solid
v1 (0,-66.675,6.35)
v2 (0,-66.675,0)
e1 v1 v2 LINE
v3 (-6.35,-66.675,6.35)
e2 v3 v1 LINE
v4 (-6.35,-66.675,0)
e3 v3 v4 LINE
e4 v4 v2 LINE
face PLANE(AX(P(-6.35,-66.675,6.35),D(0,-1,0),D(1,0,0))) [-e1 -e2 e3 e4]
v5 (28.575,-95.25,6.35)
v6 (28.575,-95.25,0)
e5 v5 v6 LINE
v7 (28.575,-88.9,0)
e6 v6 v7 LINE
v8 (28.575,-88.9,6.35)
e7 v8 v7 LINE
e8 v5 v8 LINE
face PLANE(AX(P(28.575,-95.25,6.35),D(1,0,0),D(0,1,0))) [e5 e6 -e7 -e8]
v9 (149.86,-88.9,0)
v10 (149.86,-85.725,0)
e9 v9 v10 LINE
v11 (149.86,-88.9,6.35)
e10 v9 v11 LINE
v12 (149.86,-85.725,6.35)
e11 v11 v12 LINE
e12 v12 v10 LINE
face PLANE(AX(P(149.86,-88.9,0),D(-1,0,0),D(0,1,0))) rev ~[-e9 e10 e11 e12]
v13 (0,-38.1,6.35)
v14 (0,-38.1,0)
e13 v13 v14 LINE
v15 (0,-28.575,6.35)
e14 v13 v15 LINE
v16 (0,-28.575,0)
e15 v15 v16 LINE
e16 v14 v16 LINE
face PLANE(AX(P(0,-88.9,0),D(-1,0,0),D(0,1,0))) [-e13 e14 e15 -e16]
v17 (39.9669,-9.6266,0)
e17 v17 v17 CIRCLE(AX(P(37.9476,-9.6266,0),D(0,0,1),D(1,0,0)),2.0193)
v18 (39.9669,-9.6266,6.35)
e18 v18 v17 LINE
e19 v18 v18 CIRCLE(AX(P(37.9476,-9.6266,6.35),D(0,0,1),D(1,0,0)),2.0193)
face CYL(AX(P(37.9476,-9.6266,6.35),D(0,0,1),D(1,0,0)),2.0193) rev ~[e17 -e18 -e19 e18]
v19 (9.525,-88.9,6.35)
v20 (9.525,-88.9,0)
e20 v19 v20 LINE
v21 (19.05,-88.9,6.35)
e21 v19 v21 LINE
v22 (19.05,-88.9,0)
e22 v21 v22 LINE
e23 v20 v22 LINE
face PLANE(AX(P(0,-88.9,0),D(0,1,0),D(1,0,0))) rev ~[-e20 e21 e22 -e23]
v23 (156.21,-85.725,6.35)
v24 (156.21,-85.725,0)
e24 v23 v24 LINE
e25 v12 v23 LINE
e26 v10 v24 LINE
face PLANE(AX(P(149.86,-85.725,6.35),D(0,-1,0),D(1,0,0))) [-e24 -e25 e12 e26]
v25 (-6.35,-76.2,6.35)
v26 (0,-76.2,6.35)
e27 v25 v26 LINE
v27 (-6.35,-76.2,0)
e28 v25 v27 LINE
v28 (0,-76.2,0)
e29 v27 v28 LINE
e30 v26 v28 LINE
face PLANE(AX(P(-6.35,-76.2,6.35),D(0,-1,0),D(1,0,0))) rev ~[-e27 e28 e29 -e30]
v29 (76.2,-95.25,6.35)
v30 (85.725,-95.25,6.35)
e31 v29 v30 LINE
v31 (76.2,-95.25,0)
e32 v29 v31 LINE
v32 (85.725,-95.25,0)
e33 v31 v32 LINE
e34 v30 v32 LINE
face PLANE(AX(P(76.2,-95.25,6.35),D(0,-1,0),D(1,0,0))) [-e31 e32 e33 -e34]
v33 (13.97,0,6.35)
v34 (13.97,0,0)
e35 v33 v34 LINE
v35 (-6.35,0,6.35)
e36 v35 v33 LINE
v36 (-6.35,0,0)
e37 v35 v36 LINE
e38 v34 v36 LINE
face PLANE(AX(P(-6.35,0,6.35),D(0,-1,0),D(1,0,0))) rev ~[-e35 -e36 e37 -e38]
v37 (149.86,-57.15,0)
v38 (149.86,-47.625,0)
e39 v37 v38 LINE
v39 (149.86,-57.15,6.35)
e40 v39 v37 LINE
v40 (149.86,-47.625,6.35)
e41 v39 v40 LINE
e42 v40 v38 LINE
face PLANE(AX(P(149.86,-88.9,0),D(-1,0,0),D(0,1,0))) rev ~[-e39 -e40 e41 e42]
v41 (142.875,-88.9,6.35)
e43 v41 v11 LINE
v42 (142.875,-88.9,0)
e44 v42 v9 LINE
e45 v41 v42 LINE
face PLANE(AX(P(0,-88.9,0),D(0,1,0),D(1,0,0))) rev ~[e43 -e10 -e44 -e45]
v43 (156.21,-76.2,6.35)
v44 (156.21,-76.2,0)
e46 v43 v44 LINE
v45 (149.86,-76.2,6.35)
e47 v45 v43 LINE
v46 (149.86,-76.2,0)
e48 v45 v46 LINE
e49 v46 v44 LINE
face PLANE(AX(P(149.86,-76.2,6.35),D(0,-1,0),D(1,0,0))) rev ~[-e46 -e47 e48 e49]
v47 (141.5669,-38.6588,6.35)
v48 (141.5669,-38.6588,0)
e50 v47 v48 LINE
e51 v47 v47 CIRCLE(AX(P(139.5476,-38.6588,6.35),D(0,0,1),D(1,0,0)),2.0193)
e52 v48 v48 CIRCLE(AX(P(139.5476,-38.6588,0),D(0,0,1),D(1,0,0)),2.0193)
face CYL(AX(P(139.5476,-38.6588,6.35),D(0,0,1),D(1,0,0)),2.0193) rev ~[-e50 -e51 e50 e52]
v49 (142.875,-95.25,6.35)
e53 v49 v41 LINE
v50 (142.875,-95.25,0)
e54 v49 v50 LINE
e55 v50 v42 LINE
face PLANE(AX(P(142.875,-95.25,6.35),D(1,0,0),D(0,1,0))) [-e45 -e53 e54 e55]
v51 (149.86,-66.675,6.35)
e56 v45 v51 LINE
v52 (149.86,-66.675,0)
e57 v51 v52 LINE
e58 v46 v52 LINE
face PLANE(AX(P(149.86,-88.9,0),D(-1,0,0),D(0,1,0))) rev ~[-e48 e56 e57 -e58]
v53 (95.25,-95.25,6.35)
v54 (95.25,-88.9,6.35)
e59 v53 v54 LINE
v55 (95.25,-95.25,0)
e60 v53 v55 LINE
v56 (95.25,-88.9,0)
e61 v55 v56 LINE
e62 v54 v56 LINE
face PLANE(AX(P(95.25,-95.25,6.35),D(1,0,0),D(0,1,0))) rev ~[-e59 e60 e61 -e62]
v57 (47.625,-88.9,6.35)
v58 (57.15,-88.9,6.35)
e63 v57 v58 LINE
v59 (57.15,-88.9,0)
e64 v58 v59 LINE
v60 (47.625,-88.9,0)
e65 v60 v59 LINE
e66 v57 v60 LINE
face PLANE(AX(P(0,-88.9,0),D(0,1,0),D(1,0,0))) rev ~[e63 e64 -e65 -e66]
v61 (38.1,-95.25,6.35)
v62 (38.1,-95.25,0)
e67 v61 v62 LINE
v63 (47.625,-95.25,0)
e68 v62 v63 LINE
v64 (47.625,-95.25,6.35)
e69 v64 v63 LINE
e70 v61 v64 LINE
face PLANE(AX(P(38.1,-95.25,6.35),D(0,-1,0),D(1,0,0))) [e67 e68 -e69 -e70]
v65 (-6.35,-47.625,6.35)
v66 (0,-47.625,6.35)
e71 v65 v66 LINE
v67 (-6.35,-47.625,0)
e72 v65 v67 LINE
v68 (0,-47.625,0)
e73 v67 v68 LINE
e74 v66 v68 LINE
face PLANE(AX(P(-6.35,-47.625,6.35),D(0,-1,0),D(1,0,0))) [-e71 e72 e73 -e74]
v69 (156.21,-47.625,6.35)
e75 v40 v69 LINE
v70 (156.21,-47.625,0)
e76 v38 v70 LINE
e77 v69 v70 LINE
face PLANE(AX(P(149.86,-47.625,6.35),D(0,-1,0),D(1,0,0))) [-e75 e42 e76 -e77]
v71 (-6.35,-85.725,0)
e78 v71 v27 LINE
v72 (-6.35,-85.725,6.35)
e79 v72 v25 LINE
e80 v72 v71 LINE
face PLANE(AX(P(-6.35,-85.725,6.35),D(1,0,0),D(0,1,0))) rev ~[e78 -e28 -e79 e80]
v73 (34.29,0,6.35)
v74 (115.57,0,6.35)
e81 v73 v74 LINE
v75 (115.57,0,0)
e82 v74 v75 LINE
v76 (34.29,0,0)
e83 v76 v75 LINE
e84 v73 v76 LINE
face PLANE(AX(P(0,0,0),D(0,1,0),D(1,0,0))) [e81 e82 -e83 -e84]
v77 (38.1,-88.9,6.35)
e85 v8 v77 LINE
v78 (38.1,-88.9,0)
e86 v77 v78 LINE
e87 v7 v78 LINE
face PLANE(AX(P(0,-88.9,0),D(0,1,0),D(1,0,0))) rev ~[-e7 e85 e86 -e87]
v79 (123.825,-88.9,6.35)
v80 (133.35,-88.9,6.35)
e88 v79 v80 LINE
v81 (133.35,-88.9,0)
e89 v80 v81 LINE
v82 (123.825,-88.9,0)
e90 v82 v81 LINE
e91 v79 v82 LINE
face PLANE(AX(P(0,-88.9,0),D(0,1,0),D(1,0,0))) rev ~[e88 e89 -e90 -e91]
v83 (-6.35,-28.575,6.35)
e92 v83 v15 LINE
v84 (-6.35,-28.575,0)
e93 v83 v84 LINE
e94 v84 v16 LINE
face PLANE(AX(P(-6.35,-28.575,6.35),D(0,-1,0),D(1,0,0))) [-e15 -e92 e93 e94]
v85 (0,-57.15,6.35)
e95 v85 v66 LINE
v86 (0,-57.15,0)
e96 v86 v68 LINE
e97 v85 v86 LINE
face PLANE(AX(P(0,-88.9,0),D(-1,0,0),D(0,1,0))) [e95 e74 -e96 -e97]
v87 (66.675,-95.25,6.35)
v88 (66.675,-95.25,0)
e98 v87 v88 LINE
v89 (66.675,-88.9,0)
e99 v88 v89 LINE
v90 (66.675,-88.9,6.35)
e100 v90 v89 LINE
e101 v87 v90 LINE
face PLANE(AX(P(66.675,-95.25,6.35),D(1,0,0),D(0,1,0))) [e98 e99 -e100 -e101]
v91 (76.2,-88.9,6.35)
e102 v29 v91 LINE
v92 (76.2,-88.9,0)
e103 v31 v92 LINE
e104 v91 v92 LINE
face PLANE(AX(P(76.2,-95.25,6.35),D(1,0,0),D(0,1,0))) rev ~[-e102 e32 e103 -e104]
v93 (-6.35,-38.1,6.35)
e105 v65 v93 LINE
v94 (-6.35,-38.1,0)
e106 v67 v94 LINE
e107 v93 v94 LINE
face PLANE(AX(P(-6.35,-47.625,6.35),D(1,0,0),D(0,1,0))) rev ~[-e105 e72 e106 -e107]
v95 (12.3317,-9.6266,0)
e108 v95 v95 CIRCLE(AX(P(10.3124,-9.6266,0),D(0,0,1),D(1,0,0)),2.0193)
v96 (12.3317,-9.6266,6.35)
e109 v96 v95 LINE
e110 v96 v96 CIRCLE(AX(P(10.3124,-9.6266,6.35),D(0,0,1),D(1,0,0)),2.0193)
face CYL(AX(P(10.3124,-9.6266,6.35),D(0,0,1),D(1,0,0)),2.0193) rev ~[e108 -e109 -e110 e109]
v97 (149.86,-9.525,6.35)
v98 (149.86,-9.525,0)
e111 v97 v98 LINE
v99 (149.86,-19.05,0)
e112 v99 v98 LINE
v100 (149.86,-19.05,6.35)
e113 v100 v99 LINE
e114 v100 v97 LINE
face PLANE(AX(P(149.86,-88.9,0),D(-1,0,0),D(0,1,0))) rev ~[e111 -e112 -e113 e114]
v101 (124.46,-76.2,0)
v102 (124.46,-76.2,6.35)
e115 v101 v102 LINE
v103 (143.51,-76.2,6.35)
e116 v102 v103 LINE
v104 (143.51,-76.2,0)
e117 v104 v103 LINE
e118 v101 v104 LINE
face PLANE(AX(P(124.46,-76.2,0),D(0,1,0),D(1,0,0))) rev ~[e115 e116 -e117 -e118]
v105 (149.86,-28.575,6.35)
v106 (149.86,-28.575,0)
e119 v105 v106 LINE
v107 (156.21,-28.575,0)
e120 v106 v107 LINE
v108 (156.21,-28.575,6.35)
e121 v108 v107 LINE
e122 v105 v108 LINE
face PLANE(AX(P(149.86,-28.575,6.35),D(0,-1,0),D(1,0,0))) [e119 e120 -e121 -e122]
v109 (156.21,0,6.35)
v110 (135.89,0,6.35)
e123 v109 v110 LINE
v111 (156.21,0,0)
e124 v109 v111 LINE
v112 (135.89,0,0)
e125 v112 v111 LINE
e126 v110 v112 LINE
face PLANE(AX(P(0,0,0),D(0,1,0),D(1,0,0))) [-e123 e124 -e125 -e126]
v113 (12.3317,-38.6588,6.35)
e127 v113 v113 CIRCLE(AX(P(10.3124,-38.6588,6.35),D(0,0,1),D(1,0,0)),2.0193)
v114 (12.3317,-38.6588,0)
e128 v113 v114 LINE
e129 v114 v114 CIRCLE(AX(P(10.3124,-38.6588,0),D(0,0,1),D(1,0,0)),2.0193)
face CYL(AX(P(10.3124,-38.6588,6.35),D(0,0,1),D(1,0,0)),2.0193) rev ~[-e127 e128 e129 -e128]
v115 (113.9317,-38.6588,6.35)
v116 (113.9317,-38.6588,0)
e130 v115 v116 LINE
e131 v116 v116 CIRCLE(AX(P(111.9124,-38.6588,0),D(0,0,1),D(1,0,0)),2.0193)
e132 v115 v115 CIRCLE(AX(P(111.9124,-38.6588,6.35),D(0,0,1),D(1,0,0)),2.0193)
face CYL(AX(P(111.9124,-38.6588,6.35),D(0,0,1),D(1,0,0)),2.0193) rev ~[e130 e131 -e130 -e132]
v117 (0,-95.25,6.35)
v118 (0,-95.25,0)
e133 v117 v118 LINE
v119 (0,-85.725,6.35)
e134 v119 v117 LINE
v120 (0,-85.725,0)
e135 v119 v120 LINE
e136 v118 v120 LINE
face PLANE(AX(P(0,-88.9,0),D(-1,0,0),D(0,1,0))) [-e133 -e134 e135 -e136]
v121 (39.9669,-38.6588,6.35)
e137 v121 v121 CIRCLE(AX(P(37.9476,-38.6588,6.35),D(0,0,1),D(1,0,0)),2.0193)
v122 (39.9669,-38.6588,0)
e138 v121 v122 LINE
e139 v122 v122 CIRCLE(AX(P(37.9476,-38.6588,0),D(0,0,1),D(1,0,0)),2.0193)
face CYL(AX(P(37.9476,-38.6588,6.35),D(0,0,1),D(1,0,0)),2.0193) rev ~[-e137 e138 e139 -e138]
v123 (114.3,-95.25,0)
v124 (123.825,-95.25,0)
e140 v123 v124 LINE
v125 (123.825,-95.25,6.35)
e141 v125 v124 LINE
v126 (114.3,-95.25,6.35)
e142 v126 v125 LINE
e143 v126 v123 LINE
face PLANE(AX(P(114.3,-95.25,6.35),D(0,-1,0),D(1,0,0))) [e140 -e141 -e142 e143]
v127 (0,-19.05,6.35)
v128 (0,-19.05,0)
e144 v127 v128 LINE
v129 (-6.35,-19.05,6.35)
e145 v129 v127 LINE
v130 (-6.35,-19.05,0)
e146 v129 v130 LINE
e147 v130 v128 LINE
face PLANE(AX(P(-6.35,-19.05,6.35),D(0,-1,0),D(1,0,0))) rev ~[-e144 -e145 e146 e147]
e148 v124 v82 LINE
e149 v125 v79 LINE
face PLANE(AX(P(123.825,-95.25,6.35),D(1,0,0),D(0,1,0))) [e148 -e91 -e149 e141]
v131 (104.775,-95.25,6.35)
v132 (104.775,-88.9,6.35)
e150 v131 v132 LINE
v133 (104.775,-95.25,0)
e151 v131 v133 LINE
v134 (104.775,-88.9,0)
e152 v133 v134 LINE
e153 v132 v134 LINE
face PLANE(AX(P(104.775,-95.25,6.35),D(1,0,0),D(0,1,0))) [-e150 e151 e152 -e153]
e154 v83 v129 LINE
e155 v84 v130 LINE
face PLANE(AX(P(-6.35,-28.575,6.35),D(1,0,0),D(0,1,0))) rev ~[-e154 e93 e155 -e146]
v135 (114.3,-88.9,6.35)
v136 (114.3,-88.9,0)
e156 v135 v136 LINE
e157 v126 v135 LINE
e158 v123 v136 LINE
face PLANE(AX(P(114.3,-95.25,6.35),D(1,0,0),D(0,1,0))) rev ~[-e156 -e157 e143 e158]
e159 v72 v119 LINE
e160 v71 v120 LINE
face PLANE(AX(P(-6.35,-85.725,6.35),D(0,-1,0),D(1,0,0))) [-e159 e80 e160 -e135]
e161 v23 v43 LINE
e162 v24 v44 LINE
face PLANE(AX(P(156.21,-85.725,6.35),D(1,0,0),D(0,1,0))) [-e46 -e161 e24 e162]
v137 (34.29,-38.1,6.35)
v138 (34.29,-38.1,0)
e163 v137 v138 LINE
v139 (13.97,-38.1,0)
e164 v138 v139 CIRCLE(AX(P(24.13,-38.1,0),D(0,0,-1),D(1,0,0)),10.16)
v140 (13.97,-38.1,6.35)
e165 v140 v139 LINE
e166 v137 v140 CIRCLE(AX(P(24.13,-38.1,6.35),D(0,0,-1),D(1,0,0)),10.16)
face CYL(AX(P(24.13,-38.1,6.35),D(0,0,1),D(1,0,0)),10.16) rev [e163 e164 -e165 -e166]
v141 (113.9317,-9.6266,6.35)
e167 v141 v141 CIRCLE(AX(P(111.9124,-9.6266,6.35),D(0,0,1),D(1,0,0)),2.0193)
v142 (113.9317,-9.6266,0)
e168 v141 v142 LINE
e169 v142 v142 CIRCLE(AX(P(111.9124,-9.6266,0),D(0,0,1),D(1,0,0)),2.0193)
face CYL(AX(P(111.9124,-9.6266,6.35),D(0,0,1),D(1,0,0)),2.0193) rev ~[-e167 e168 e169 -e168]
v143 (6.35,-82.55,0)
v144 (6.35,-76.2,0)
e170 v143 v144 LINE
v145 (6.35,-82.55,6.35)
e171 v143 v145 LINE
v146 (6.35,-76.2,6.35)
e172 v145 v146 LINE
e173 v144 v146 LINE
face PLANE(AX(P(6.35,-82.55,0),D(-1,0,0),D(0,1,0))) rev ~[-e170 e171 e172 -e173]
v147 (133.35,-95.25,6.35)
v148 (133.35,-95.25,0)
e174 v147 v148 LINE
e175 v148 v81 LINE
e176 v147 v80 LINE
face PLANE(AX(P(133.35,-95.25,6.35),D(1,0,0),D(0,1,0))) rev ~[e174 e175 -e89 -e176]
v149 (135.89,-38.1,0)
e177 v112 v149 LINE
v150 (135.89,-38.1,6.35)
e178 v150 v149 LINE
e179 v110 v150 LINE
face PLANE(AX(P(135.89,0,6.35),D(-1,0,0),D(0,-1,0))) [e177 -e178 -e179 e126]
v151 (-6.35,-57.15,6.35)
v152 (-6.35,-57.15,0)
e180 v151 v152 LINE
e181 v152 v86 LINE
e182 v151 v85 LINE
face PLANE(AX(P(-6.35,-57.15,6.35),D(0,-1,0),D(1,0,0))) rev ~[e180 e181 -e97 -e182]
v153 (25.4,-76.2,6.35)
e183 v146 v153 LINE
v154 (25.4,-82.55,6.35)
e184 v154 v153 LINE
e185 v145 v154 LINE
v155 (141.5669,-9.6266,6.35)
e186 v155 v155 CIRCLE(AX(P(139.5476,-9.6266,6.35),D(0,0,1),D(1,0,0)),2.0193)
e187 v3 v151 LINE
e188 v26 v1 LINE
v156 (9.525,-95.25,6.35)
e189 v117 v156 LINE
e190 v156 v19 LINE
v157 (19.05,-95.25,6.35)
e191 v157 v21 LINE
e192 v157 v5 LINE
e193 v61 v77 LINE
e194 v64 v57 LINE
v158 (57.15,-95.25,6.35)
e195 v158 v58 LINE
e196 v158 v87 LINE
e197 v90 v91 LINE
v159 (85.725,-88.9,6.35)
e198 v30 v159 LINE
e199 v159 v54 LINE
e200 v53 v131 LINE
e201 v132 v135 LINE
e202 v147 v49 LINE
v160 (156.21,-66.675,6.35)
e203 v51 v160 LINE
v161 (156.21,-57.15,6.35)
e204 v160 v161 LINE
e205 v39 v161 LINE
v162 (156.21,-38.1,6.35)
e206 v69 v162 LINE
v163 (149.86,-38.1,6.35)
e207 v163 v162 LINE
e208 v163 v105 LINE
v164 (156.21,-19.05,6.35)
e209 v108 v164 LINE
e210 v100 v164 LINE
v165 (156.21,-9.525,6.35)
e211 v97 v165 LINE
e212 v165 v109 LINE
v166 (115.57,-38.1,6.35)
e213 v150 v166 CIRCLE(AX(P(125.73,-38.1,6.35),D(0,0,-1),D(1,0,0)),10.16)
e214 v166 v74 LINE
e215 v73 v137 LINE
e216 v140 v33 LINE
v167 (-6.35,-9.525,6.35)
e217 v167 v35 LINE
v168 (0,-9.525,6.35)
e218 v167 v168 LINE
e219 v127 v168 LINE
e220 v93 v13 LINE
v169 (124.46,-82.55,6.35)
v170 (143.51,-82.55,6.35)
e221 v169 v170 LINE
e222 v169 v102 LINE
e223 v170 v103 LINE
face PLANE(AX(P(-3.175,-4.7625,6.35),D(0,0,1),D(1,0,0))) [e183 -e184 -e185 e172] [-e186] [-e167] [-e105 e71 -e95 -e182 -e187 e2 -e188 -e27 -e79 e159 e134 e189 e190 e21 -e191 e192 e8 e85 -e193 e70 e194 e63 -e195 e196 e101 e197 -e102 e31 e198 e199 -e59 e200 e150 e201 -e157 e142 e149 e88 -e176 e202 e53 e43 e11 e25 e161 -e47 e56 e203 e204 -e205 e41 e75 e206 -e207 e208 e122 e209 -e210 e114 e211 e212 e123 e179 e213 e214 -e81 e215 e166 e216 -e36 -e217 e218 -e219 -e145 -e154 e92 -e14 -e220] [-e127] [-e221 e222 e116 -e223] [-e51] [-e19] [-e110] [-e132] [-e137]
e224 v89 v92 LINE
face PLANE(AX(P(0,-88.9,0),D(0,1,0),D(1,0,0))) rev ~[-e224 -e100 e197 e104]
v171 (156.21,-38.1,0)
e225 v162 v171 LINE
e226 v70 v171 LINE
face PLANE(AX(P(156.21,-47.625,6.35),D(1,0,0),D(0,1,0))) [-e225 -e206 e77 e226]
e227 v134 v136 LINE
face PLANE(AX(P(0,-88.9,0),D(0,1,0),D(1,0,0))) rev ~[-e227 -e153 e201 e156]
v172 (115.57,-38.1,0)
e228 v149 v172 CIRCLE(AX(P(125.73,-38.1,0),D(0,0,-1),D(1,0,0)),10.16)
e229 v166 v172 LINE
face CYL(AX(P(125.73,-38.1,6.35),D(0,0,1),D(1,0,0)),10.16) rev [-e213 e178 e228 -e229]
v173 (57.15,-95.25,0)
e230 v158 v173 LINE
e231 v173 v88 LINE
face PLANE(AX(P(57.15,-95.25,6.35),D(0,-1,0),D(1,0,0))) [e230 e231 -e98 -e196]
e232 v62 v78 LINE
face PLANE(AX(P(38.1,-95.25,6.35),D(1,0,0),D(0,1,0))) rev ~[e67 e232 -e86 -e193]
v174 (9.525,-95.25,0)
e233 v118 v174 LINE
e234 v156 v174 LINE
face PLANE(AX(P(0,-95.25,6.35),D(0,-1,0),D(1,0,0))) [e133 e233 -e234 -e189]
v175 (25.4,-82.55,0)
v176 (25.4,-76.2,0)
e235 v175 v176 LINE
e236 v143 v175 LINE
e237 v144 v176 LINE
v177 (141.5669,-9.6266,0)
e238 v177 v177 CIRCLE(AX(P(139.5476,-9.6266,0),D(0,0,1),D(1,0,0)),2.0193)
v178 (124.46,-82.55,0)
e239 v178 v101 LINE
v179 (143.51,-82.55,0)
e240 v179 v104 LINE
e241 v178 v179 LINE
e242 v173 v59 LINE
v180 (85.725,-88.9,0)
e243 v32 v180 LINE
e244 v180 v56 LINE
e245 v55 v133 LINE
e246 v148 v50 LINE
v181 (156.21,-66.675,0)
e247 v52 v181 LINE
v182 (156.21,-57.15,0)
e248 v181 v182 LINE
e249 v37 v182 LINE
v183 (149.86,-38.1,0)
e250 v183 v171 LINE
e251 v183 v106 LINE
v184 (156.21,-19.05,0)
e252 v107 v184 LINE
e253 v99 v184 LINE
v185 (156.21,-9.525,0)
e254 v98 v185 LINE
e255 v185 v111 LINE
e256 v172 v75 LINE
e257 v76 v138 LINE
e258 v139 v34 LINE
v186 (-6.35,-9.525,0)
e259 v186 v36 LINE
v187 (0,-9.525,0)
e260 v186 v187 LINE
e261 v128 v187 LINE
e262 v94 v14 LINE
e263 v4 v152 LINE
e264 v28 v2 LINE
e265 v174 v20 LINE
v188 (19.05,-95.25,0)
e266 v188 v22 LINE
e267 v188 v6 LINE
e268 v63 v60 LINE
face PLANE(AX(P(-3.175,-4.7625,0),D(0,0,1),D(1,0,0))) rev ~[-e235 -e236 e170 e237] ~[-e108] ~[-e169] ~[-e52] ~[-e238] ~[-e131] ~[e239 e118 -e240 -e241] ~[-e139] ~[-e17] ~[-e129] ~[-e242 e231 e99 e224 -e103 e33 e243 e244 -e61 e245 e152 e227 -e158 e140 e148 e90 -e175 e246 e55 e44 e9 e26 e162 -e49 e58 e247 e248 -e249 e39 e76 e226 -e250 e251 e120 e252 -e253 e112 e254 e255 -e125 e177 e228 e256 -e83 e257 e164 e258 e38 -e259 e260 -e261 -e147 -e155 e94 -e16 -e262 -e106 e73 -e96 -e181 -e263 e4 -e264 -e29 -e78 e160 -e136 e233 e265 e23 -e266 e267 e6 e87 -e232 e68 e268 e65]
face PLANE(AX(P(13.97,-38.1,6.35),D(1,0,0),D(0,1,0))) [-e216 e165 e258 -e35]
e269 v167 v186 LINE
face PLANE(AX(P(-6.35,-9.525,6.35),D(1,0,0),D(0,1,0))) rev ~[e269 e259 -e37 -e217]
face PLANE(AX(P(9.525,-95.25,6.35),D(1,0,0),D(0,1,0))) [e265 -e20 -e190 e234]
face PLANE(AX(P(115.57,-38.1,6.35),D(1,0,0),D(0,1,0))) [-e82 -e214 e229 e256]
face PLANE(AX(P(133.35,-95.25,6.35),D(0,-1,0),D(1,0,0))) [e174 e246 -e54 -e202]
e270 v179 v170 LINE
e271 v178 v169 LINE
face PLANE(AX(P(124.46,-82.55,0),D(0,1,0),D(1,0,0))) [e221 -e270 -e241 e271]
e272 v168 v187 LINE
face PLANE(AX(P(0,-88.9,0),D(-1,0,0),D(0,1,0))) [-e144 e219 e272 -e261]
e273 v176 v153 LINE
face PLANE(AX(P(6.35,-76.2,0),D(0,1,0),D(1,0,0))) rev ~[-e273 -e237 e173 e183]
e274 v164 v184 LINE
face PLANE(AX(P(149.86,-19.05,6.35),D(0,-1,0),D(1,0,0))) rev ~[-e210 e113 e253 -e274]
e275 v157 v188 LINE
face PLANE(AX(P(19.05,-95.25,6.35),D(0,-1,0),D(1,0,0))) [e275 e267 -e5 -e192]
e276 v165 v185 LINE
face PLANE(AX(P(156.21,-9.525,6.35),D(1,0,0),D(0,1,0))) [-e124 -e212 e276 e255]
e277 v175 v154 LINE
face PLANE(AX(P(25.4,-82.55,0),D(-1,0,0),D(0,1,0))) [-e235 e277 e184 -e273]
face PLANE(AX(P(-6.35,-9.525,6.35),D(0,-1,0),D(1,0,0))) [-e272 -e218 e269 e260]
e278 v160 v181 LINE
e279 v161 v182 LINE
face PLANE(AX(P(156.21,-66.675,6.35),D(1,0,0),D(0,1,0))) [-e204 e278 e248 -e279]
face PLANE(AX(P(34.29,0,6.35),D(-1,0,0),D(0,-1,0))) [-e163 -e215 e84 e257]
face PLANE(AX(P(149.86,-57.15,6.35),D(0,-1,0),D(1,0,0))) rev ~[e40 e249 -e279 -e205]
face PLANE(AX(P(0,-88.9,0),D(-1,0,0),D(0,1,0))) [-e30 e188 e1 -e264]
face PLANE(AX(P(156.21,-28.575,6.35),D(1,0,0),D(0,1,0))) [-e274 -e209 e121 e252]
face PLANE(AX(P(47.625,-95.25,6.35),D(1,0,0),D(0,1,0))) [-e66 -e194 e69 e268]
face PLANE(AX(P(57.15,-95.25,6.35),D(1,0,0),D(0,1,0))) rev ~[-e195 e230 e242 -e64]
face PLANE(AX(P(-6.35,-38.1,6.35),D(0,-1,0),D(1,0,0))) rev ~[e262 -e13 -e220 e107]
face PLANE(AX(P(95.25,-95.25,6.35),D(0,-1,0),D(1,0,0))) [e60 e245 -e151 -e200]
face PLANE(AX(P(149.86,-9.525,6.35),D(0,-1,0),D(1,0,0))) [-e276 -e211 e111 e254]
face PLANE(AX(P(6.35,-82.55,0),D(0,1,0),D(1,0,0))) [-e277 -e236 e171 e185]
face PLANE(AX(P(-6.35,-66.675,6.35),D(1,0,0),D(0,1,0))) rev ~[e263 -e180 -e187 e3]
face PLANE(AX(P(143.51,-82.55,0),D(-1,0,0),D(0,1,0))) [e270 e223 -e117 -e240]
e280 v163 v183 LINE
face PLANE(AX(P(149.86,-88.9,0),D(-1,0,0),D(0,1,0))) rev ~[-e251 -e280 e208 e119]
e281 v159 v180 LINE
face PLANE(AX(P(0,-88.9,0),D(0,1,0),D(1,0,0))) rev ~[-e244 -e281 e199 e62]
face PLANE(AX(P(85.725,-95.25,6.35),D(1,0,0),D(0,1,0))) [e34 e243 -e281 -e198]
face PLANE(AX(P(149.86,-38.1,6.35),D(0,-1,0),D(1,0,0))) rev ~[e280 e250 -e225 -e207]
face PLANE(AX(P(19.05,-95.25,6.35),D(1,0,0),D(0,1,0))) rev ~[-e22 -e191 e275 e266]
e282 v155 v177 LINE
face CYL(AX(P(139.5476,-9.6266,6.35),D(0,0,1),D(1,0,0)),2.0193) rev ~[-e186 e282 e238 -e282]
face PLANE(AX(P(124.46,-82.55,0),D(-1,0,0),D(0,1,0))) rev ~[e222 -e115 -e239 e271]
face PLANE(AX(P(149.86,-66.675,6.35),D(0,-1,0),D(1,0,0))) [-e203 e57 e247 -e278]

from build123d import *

# Parameters (mm, degrees)
SKETCH1_W           = 149.86
SKETCH1_H           = 88.9
SKETCH1_W_2         = 19.05
SKETCH1_H_2         = 6.35
GENERAL_SHAPE_DEPTH = 6.35
SKETCH4_R           = 2.0193
SLOT_CUT_OUTS_DEPTH = 6.35
SKETCH5_W           = 6.35
SKETCH5_H           = 9.525
SKETCH5_W_2         = 9.525
SKETCH5_H_2         = 6.35
EDGE_TEETH_DEPTH    = 6.35


with BuildPart() as part:
    # Sketch1 → General Shape (new body)
    with BuildSketch(Plane.XY):
        with Locations((74.93, -44.45)):
            Rectangle(SKETCH1_W, SKETCH1_H)
        with Locations((133.985, -79.375)):
            Rectangle(SKETCH1_W_2, SKETCH1_H_2, mode=Mode.SUBTRACT)
        with Locations((15.875, -79.375)):
            Rectangle(SKETCH1_W_2, SKETCH1_H_2, mode=Mode.SUBTRACT)
    extrude(amount=GENERAL_SHAPE_DEPTH)

    # Sketch4 → Slot Cut-Outs (cut)
    with BuildSketch(Plane.XY.offset(6.35)):
        with Locations((37.9476, -9.6266)):
            Circle(SKETCH4_R)
        with Locations((37.9476, -38.6588)):
            Circle(SKETCH4_R)
        with Locations((10.3124, -38.6588)):
            Circle(SKETCH4_R)
        with Locations((10.3124, -9.6266)):
            Circle(SKETCH4_R)
        with Locations((139.5476, -9.6266)):
            Circle(SKETCH4_R)
        with Locations((111.9124, -9.6266)):
            Circle(SKETCH4_R)
        with Locations((111.9124, -38.6588)):
            Circle(SKETCH4_R)
        with Locations((139.5476, -38.6588)):
            Circle(SKETCH4_R)
        with BuildLine():
            Line((34.29, 0), (34.29, -38.1))
            ThreePointArc((34.29, -38.1), (24.13, -48.26), (13.97, -38.1))
            Line((13.97, -38.1), (13.97, 0))
            ThreePointArc((13.97, 0), (24.13, 10.16), (34.29, 0))
        make_face()
        with BuildLine():
            Line((135.89, 0), (135.89, -38.1))
            ThreePointArc((135.89, -38.1), (125.73, -48.26), (115.57, -38.1))
            Line((115.57, -38.1), (115.57, 0))
            ThreePointArc((115.57, 0), (125.73, 10.16), (135.89, 0))
        make_face()
    extrude(amount=-SLOT_CUT_OUTS_DEPTH, mode=Mode.SUBTRACT)

    # Sketch5 → Edge Teeth (add)
    with BuildSketch(Plane.XY.offset(6.35)):
        with Locations((-3.175, -4.7625)):
            Rectangle(SKETCH5_W, SKETCH5_H)
        with Locations((-3.175, -23.8125)):
            Rectangle(SKETCH5_W, SKETCH5_H)
        with Locations((-3.175, -42.8625)):
            Rectangle(SKETCH5_W, SKETCH5_H)
        with Locations((-3.175, -61.9125)):
            Rectangle(SKETCH5_W, SKETCH5_H)
        with Locations((-3.175, -80.9625)):
            Rectangle(SKETCH5_W, SKETCH5_H)
        with Locations((153.035, -80.9625)):
            Rectangle(SKETCH5_W, SKETCH5_H)
        with Locations((153.035, -61.9125)):
            Rectangle(SKETCH5_W, SKETCH5_H)
        with Locations((153.035, -42.8625)):
            Rectangle(SKETCH5_W, SKETCH5_H)
        with Locations((153.035, -23.8125)):
            Rectangle(SKETCH5_W, SKETCH5_H)
        with Locations((153.035, -4.7625)):
            Rectangle(SKETCH5_W, SKETCH5_H)
        with Locations((23.8125, -92.075)):
            Rectangle(SKETCH5_W_2, SKETCH5_H_2)
        with Locations((4.7625, -92.075)):
            Rectangle(SKETCH5_W_2, SKETCH5_H_2)
        with Locations((42.8625, -92.075)):
            Rectangle(SKETCH5_W_2, SKETCH5_H_2)
        with Locations((61.9125, -92.075)):
            Rectangle(SKETCH5_W_2, SKETCH5_H_2)
        with Locations((80.9625, -92.075)):
            Rectangle(SKETCH5_W_2, SKETCH5_H_2)
        with Locations((100.0125, -92.075)):
            Rectangle(SKETCH5_W_2, SKETCH5_H_2)
        with Locations((119.0625, -92.075)):
            Rectangle(SKETCH5_W_2, SKETCH5_H_2)
        with Locations((138.1125, -92.075)):
            Rectangle(SKETCH5_W_2, SKETCH5_H_2)
    extrude(amount=-EDGE_TEETH_DEPTH)


solid = part.part
